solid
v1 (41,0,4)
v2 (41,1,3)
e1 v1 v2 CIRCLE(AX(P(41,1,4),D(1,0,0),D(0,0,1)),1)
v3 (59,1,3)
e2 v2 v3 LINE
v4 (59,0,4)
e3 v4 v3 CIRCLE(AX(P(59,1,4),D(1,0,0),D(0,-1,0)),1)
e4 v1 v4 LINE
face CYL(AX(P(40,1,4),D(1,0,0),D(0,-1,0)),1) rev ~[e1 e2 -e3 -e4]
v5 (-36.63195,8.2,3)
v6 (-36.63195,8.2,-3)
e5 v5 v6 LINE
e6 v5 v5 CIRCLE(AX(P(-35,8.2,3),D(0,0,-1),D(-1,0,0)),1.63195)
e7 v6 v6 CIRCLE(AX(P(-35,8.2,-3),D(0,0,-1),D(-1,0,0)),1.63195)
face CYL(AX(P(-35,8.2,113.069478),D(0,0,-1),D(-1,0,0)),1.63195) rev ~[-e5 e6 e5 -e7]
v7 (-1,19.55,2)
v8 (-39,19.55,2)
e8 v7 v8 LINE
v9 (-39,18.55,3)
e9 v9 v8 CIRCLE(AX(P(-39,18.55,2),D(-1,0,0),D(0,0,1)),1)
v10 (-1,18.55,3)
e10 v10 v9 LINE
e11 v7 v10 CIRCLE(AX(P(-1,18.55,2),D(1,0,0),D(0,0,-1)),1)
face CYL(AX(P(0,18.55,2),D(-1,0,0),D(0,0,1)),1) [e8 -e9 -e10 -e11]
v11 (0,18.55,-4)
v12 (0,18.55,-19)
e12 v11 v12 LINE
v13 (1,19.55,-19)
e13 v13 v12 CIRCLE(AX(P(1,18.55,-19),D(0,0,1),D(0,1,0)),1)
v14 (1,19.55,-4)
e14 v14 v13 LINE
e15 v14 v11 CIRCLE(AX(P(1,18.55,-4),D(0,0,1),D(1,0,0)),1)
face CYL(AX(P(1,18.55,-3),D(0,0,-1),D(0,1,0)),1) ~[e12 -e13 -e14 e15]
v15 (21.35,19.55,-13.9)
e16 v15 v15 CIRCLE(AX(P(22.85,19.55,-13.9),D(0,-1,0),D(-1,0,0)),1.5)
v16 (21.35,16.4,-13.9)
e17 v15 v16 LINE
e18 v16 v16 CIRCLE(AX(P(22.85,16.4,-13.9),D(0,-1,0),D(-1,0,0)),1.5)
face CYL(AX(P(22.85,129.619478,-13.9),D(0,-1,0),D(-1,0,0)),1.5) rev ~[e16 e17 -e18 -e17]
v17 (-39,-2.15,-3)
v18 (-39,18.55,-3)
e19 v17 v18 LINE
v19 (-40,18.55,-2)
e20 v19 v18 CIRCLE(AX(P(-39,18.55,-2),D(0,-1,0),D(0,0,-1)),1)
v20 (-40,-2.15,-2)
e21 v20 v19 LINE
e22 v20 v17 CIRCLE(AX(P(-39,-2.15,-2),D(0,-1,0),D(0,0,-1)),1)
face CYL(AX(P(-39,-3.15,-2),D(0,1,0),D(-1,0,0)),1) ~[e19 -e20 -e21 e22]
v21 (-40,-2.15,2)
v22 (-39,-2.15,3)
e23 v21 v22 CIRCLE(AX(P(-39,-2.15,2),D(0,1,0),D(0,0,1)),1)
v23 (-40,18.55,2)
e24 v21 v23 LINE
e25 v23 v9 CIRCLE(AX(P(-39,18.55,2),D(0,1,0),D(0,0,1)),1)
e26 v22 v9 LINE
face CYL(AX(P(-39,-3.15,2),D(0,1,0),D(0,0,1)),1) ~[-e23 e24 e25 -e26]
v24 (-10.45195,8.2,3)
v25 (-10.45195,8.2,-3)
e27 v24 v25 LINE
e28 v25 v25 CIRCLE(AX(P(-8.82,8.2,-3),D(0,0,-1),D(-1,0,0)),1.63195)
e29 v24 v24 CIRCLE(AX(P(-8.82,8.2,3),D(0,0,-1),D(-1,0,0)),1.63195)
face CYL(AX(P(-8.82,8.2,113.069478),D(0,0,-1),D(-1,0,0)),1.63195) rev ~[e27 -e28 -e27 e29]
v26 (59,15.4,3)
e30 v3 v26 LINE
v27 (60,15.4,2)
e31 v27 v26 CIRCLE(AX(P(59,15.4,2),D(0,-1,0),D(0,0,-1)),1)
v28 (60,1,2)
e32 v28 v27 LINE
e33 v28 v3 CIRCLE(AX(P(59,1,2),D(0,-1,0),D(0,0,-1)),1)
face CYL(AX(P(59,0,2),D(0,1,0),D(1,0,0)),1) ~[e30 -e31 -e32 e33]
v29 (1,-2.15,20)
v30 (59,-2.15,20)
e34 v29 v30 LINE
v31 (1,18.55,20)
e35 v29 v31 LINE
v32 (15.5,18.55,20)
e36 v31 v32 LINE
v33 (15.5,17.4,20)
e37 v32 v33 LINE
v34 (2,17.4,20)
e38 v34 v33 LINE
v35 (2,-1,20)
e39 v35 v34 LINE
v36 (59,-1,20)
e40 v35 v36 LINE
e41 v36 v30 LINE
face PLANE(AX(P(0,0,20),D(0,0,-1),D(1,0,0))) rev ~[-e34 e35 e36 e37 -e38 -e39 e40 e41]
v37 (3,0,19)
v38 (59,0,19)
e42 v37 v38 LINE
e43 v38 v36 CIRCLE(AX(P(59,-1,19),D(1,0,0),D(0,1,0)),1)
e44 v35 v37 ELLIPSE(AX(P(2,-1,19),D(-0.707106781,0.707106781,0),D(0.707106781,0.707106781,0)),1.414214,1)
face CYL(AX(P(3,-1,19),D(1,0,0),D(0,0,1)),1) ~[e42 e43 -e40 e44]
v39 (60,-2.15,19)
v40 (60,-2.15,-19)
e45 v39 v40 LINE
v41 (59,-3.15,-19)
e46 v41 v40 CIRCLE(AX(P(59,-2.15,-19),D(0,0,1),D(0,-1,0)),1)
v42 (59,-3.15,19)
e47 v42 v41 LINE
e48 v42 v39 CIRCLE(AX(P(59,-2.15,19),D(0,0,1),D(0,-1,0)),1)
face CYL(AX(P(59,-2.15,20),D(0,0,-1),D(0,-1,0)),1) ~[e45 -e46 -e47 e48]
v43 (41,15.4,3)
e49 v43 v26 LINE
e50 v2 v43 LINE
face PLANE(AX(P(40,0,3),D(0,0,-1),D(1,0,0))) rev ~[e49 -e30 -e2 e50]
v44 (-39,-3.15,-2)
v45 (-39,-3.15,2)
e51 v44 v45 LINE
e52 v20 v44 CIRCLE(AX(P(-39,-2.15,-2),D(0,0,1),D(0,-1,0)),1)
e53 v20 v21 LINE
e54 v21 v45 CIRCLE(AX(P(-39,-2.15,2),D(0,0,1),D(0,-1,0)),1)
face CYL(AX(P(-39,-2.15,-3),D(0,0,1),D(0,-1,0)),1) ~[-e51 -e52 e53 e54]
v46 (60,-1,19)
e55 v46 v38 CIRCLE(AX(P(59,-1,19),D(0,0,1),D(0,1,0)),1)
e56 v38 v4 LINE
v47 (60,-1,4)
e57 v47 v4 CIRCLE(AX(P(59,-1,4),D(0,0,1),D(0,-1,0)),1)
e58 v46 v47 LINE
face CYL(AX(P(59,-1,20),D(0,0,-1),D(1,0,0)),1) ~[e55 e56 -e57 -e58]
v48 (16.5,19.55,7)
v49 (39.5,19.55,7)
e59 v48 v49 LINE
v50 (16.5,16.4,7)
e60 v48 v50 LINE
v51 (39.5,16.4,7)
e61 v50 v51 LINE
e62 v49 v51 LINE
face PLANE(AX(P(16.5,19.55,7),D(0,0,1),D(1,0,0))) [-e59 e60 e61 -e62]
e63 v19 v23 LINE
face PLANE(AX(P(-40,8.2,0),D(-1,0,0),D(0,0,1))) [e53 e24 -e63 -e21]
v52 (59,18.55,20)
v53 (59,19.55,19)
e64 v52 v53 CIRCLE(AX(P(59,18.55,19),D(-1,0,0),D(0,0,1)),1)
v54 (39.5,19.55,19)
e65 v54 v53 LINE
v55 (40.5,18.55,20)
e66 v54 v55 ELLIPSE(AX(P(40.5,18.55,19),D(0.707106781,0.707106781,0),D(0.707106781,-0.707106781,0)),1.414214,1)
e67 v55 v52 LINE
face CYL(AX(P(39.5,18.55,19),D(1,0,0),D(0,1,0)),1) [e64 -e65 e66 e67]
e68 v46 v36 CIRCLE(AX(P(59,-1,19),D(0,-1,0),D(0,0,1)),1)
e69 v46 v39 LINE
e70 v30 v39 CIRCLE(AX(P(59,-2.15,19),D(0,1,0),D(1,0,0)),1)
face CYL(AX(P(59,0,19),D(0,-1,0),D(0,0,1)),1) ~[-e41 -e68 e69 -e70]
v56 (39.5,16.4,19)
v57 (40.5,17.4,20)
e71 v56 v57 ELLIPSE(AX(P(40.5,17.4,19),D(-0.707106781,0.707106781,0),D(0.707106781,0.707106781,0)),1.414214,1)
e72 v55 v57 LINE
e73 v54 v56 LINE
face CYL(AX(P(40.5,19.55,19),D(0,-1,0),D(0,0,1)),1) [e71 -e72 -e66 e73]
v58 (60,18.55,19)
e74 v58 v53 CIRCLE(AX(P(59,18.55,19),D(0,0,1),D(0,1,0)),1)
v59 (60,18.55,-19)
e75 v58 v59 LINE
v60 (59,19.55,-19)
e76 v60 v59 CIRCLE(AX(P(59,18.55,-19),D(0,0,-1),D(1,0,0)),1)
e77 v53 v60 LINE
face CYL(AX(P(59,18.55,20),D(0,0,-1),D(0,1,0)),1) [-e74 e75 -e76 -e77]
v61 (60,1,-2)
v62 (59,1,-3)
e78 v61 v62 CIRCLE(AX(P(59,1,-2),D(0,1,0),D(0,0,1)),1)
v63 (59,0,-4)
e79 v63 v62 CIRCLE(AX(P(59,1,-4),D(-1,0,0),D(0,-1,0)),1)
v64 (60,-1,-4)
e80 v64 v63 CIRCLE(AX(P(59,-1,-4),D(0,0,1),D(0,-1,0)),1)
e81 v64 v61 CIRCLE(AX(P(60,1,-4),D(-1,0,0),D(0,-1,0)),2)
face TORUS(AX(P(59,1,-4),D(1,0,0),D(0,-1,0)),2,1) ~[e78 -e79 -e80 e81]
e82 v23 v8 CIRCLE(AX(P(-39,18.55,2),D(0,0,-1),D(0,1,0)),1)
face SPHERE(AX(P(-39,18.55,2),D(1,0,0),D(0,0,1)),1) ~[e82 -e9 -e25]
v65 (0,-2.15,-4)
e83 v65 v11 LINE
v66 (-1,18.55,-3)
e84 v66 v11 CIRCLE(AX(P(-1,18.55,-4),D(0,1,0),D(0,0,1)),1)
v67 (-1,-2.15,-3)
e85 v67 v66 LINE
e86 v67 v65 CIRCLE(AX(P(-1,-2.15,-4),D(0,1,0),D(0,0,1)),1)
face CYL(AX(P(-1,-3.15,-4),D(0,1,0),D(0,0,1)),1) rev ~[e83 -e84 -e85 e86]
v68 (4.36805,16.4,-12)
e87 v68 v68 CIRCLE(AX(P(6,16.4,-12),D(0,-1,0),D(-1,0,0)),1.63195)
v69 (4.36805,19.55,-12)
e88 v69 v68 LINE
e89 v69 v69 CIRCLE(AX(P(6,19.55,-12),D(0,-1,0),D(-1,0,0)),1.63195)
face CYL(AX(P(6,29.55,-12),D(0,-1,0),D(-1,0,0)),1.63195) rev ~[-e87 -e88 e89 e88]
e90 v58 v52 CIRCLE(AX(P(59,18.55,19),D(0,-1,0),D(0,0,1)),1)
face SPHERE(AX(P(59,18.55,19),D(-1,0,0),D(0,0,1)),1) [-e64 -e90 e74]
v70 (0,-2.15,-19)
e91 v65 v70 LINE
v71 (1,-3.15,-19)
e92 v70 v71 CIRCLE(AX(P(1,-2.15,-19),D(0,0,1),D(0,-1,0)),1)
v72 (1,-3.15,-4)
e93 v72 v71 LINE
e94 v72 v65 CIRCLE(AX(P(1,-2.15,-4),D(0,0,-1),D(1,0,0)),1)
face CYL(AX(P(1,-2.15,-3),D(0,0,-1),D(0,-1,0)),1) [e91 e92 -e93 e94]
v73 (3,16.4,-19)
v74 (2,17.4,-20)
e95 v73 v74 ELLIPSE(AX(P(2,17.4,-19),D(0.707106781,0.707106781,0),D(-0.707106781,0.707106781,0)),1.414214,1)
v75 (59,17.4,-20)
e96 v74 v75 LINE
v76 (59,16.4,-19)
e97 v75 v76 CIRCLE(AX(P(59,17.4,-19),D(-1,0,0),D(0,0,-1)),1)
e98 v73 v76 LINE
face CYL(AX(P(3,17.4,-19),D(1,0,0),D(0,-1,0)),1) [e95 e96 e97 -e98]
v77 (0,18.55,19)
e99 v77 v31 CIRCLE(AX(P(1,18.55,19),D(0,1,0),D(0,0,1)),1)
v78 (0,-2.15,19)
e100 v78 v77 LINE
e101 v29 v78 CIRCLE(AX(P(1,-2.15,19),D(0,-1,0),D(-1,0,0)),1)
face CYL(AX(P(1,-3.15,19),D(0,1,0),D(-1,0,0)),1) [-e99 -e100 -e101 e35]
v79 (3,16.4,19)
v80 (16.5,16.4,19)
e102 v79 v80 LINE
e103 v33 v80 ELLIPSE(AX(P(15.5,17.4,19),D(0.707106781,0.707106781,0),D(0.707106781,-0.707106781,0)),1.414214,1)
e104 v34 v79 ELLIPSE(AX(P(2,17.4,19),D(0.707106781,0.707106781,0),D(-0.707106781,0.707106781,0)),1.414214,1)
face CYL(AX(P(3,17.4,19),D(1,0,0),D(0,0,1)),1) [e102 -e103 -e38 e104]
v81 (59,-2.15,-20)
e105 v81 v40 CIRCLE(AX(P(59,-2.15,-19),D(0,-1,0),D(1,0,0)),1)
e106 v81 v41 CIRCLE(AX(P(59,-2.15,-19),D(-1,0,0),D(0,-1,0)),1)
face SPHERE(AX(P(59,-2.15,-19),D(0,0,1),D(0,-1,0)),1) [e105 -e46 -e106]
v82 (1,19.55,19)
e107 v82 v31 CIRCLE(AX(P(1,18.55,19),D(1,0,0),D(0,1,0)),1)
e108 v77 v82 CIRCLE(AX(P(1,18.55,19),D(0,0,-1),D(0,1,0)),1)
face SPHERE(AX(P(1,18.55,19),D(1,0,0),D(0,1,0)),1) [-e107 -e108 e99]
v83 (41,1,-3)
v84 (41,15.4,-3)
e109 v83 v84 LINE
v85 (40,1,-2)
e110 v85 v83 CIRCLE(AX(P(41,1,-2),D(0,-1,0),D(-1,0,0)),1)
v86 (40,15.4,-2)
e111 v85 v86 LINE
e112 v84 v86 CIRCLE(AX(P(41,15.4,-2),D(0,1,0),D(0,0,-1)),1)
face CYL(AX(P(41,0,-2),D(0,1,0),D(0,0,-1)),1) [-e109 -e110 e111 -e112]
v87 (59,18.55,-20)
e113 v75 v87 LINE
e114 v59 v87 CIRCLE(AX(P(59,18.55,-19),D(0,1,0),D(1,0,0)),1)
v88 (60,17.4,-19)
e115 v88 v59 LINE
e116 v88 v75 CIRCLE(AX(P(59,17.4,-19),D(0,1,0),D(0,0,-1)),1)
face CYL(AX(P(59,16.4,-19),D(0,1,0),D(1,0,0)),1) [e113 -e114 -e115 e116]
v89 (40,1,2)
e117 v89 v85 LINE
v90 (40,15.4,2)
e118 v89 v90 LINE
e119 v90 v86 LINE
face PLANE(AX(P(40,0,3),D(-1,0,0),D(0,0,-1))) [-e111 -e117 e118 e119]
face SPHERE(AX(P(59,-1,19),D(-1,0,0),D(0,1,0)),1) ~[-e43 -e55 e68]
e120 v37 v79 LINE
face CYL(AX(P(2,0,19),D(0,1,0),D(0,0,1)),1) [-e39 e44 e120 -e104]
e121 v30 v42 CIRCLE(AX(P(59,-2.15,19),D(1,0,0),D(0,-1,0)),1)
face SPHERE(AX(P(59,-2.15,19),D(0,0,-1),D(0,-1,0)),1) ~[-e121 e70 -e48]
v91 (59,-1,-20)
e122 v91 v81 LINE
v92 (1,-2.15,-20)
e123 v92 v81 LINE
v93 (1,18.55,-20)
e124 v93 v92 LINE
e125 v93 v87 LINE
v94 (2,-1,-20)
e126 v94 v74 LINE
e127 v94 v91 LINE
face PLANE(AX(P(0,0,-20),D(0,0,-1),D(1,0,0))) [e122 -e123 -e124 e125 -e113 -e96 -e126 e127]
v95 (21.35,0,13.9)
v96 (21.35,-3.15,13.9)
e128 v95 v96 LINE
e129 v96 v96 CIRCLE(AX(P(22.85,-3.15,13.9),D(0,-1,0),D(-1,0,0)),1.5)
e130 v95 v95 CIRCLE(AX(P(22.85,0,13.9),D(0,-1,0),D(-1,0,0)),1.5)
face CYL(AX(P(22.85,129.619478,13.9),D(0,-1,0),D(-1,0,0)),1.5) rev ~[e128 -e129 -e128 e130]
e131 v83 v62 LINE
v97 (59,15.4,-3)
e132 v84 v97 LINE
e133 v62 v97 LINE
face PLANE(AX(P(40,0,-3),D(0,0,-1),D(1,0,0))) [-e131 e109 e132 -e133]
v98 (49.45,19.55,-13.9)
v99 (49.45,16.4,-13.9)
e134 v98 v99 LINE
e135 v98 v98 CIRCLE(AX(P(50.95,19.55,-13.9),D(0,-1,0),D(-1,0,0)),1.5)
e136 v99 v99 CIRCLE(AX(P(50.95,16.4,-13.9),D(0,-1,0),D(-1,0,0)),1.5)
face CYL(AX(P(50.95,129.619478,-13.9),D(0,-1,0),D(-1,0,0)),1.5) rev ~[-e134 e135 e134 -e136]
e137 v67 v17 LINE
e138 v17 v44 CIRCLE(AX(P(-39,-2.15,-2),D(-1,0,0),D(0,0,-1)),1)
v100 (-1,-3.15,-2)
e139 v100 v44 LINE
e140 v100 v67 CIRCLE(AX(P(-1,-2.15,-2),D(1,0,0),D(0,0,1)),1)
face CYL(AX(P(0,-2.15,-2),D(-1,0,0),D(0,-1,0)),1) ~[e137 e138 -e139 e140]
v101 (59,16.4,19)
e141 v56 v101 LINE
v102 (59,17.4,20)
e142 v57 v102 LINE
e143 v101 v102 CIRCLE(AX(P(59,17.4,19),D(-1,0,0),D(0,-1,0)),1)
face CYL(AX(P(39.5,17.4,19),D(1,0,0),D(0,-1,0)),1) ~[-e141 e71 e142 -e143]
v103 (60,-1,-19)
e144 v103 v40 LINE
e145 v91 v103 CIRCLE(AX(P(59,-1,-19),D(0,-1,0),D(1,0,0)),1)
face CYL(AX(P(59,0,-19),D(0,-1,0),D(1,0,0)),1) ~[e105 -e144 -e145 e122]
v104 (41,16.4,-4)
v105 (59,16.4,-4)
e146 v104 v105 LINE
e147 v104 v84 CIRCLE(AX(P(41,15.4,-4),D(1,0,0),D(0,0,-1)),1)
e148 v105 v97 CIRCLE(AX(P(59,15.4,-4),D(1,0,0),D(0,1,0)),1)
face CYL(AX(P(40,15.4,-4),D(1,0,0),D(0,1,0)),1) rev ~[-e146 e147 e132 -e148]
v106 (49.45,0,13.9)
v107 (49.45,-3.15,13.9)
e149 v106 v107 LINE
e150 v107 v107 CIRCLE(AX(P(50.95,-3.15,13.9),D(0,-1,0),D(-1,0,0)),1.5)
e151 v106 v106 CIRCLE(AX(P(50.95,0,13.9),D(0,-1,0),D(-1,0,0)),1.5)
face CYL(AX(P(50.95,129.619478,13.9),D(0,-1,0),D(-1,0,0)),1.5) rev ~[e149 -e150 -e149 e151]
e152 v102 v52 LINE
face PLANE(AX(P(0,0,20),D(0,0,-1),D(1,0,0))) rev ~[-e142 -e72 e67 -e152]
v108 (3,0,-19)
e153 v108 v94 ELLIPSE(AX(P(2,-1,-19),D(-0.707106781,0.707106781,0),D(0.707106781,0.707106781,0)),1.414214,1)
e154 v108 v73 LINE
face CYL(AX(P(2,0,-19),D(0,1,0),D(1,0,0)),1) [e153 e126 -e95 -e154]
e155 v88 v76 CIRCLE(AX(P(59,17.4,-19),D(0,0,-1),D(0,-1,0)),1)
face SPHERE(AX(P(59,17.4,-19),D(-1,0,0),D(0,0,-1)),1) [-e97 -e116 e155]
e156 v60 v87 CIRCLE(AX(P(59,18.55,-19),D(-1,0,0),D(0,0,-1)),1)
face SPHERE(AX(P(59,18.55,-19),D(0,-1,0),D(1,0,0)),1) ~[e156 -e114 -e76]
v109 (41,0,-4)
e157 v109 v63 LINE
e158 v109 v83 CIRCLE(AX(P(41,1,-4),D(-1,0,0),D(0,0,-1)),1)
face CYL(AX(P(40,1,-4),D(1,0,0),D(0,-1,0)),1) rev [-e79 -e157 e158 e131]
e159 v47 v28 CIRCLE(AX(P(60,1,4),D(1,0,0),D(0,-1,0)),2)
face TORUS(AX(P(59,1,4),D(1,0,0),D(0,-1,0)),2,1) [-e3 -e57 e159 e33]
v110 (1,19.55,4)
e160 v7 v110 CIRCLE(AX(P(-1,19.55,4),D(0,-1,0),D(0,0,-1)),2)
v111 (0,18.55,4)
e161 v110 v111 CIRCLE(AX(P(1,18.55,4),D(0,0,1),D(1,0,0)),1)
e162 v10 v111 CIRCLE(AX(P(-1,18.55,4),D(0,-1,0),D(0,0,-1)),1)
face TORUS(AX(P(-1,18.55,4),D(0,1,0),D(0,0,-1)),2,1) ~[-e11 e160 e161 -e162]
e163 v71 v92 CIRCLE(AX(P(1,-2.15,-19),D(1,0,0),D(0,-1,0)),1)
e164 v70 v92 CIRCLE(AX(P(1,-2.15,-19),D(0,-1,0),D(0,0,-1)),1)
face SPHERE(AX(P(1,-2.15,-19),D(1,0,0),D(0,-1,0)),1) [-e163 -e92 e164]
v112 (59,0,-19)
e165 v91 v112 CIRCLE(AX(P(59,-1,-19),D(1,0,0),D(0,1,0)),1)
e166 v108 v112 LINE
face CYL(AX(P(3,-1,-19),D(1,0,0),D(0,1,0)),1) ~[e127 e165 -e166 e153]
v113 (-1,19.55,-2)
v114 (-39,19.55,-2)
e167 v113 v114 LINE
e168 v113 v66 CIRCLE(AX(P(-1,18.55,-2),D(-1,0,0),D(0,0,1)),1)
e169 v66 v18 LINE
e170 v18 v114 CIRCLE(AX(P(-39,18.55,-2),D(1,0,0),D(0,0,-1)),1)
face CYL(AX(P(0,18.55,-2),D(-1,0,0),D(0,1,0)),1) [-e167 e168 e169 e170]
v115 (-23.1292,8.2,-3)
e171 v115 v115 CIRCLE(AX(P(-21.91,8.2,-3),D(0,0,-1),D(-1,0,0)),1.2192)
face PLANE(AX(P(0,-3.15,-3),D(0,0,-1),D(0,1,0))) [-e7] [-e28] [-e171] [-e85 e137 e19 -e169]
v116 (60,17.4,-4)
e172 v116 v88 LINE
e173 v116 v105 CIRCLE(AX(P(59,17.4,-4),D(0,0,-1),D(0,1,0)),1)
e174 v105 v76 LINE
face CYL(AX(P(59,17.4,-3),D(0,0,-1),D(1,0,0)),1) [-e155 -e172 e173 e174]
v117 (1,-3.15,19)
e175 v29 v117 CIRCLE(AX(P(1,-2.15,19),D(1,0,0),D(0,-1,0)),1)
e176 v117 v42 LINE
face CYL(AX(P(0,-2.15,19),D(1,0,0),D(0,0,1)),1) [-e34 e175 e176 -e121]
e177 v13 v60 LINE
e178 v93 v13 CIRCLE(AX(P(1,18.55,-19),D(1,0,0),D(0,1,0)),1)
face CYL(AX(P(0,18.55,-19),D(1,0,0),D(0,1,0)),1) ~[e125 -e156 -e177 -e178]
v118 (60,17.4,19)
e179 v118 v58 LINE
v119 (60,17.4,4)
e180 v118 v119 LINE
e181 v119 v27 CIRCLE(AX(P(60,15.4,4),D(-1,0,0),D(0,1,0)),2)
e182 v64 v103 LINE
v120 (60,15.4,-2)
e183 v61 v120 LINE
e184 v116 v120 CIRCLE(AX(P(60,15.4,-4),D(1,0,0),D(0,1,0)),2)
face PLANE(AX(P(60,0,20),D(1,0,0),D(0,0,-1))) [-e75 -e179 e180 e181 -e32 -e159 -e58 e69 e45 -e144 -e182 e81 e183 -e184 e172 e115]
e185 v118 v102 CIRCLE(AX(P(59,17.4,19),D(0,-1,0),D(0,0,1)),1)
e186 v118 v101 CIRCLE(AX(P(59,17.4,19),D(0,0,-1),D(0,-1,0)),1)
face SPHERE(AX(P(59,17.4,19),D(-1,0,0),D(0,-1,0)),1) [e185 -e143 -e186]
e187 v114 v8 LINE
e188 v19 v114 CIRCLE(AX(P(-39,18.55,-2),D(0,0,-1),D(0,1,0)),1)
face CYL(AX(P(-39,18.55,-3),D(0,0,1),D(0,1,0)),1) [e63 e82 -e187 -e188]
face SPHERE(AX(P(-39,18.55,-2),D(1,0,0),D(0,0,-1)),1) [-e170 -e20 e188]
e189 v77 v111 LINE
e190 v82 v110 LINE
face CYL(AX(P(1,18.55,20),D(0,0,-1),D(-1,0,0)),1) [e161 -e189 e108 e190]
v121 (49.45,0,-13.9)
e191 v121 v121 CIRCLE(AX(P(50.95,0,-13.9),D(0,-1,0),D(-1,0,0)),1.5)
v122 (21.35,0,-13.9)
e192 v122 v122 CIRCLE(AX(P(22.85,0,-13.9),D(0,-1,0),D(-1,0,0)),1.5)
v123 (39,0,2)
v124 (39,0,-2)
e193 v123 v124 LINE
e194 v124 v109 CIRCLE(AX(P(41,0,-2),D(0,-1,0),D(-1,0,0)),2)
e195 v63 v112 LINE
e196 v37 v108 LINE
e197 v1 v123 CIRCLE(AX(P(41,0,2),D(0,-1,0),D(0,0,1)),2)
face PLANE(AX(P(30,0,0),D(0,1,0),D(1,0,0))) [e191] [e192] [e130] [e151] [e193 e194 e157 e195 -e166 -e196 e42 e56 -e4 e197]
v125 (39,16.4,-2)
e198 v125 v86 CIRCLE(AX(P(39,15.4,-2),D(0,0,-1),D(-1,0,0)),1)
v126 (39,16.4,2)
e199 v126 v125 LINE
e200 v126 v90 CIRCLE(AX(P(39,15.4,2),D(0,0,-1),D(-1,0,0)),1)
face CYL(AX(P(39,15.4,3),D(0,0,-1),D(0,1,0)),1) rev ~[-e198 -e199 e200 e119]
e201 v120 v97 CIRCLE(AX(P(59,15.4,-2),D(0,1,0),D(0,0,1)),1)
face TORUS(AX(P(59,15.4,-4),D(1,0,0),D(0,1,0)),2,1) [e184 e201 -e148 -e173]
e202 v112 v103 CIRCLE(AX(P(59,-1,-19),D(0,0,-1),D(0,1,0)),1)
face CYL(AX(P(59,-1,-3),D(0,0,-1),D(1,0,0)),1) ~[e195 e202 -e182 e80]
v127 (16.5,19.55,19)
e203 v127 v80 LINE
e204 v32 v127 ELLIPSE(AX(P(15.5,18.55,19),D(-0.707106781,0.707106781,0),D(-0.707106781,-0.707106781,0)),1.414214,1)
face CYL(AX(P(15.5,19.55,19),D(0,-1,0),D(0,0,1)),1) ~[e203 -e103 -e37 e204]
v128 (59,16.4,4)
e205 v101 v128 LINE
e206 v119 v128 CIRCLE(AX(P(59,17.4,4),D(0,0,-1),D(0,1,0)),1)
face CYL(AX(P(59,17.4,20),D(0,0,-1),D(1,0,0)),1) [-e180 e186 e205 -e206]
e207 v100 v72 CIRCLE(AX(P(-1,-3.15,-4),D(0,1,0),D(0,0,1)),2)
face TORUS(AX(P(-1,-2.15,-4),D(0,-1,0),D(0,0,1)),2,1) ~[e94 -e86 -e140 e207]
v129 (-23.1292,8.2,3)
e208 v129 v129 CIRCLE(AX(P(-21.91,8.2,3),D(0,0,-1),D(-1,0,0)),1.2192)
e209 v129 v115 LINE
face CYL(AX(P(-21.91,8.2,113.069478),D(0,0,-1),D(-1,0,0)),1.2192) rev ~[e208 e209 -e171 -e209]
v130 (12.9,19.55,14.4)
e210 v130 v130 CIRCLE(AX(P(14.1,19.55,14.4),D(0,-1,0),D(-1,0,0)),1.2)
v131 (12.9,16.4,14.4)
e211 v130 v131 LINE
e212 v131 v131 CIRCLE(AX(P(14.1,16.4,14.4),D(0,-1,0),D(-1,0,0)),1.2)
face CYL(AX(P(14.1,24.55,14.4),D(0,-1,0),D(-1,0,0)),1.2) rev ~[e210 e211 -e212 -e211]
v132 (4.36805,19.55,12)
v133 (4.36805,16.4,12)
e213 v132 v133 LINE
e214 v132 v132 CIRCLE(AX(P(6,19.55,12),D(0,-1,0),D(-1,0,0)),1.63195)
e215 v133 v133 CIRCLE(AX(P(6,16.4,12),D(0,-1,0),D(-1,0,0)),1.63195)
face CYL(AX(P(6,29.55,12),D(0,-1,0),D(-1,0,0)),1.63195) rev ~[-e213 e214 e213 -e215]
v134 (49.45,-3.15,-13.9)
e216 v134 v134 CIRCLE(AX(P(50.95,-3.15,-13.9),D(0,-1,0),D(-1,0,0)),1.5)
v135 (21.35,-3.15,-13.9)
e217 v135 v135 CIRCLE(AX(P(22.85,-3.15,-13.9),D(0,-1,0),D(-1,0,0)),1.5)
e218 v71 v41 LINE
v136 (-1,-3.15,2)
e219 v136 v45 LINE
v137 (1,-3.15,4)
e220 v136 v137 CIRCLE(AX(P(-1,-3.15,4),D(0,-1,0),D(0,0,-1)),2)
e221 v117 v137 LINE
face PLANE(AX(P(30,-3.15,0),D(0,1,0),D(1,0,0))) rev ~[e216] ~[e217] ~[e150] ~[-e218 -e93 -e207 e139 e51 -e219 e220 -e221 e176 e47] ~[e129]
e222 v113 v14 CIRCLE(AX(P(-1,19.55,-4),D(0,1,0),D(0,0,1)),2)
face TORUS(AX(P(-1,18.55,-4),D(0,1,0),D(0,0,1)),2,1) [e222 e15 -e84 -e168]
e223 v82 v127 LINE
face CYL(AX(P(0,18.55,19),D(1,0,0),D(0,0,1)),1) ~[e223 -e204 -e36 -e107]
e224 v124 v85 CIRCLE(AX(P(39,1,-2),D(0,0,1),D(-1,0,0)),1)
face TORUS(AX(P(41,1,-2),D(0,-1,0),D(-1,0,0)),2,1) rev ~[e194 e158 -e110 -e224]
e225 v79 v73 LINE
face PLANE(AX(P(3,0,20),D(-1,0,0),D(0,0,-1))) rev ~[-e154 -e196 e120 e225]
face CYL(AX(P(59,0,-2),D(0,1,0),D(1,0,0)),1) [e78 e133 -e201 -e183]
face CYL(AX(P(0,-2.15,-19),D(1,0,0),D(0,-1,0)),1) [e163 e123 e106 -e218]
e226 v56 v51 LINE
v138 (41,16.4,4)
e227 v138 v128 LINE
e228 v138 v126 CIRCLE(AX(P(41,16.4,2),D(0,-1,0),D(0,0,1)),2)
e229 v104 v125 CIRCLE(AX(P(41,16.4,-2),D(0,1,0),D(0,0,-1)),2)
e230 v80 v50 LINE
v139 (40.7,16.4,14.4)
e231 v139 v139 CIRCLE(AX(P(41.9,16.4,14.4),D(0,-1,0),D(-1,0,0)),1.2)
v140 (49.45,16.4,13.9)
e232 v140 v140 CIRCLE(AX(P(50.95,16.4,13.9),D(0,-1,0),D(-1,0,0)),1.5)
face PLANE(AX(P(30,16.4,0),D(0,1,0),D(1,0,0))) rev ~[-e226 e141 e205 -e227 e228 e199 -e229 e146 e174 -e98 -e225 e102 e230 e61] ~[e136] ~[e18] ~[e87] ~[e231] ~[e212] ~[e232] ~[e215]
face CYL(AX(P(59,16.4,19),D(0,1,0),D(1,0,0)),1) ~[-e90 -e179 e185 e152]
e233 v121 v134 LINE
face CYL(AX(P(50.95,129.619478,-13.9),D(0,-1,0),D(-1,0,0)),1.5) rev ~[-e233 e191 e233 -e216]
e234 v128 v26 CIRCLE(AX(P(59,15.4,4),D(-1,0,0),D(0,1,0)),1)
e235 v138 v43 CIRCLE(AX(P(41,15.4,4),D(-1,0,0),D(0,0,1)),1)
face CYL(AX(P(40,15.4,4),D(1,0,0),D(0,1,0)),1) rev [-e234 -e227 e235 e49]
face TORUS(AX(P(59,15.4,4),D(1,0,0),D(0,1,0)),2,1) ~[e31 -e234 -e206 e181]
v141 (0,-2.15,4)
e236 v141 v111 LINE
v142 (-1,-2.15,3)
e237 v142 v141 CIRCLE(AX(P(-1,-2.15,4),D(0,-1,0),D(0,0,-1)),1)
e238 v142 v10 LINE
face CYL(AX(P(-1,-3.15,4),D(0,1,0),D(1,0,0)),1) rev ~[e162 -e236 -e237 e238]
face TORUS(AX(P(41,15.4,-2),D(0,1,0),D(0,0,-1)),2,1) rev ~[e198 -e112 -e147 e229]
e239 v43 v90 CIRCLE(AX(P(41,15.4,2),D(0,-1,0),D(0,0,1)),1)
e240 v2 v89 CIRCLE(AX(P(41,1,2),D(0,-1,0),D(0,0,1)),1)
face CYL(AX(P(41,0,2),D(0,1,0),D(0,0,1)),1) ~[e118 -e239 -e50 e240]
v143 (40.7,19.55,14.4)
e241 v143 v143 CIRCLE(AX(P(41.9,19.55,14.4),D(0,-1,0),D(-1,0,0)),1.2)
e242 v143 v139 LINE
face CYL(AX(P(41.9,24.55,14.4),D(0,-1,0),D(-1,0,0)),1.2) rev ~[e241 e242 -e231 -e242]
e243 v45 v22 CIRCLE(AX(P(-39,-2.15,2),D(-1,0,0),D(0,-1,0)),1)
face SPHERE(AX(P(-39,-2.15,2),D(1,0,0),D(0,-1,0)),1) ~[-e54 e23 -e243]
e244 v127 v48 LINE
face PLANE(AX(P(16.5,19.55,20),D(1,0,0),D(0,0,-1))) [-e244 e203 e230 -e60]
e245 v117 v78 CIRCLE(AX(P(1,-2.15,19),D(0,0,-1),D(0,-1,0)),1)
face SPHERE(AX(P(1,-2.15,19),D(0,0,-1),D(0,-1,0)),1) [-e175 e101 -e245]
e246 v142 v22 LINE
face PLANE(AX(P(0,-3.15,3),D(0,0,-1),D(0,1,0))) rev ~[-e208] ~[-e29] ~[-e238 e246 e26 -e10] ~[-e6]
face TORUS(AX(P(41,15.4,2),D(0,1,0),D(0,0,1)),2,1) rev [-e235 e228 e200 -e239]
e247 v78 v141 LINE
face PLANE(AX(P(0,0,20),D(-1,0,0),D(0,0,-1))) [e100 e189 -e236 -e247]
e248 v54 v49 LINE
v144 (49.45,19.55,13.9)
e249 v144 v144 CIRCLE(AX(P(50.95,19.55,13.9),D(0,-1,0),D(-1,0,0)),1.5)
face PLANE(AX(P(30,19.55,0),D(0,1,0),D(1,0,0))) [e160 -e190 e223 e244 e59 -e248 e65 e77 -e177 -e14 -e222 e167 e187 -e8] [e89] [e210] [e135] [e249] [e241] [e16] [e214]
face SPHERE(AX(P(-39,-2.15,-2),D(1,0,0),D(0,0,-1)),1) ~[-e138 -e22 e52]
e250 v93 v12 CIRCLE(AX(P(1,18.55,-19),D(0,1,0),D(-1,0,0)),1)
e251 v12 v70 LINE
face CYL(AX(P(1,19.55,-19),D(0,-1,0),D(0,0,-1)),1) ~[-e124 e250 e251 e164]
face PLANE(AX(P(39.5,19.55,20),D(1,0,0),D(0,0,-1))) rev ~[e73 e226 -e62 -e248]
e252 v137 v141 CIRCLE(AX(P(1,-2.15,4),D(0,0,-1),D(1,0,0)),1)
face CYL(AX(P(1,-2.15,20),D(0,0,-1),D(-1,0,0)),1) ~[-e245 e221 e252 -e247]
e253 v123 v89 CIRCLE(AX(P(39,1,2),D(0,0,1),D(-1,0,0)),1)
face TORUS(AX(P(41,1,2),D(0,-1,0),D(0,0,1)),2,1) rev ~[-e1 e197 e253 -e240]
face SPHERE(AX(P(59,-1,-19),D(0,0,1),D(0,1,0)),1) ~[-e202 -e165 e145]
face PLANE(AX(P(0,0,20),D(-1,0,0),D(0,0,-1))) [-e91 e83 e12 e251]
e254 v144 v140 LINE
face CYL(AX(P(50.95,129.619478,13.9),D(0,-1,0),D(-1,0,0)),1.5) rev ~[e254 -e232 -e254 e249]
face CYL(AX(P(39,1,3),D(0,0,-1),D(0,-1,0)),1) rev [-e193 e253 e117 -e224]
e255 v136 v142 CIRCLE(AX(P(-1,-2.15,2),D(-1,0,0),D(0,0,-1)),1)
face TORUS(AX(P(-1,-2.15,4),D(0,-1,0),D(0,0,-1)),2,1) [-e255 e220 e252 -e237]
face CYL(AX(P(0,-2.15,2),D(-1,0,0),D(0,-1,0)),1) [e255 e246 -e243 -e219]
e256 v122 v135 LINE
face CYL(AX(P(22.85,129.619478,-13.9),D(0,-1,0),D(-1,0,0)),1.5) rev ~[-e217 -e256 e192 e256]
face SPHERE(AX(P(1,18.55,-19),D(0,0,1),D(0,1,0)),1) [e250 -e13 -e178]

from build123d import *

# Parameters (mm, degrees)
SKETCH1_W                 = 60
SKETCH1_H                 = 40
BOSS_EXTRUDE1_DEPTH       = 3.15
BOSS_EXTRUDE2_START       = 16.4
SKETCH1_2_W               = 60
SKETCH1_2_H               = 40
BOSS_EXTRUDE2_DEPTH       = 3.15
SKETCH2_W                 = 3
SKETCH2_H                 = 40
SKETCH2_W_2               = 20
SKETCH2_H_2               = 6
BOSS_EXTRUDE3_DEPTH       = 16.4
SKETCH3_W                 = 6
SKETCH3_H                 = 22.7
BOSS_EXTRUDE4_DEPTH       = 40
M2_CLEARANCE_HOLE1_D      = 2.4
M2_CLEARANCE_HOLE1_DEPTH  = 5
M2_CLEARANCE_HOLE1_TIP    = 0.721032743
F_3_0MM_DOWEL_HOLE1_D     = 3
SKETCH5_W                 = 23
SKETCH5_H                 = 13
CUT_EXTRUDE1_DEPTH        = 7
FILLET1_R                 = 1
F_4_CLEARANCE_HOLE1_D     = 3.2639
F_2_CLEARANCE_HOLE1_D     = 2.4384
F_4_CLEARANCE_HOLE2_D     = 3.2639
F_4_CLEARANCE_HOLE2_DEPTH = 10
F_4_CLEARANCE_HOLE2_TIP   = 0.980574487


with BuildPart() as part:
    # Sketch1 → Boss-Extrude1 (new body)
    with BuildSketch(Plane(origin=(0, 0, 0), x_dir=(1, 0, 0), z_dir=(0, 1, 0))):
        with Locations((30, 0)):
            Rectangle(SKETCH1_W, SKETCH1_H)
    extrude(amount=-BOSS_EXTRUDE1_DEPTH)



with BuildPart() as body_2:
    # Sketch1<2> → Boss-Extrude2 (new body)
    with BuildSketch(Plane(origin=(0, 0, 0), x_dir=(1, 0, 0), z_dir=(0, 1, 0)).offset(BOSS_EXTRUDE2_START)):
        with Locations((30, 0)):
            Rectangle(SKETCH1_2_W, SKETCH1_2_H)
    extrude(amount=BOSS_EXTRUDE2_DEPTH)


with BuildPart() as part_1:
    add(part.part)

    add(body_2.part)  # Boss-Extrude3 merges body 2
    # Sketch2 → Boss-Extrude3 (add)
    with BuildSketch(Plane(origin=(0, 0, 0), x_dir=(1, 0, 0), z_dir=(0, 1, 0))):
        with Locations((1.5, 0)):
            Rectangle(SKETCH2_W, SKETCH2_H)
        with Locations((50, 0)):
            Rectangle(SKETCH2_W_2, SKETCH2_H_2)
    extrude(amount=BOSS_EXTRUDE3_DEPTH)

    # Sketch3 → Boss-Extrude4 (add)
    with BuildSketch(Plane.ZY):
        with Locations((0, 8.2)):
            Rectangle(SKETCH3_W, SKETCH3_H)
    extrude(amount=BOSS_EXTRUDE4_DEPTH)

    # M2 Clearance Hole1
    with Locations(Plane(origin=(0, 19.55, 0), x_dir=(1, 0, 0), z_dir=(0, 1, 0))):
        with Locations((14.1, -14.4), (41.9, -14.4)):
            Hole(M2_CLEARANCE_HOLE1_D / 2, depth=M2_CLEARANCE_HOLE1_DEPTH)
            with Locations((0, 0, -(M2_CLEARANCE_HOLE1_DEPTH + M2_CLEARANCE_HOLE1_TIP / 2))):  # 118° drill point
                Cone(0, M2_CLEARANCE_HOLE1_D / 2, M2_CLEARANCE_HOLE1_TIP, mode=Mode.SUBTRACT)

    # Ø3.0mm Dowel Hole1 (through all)
    with Locations(Plane(origin=(0, 19.55, 0), x_dir=(1, 0, 0), z_dir=(0, 1, 0))):
        with Locations((50.95, -13.9), (22.85, 13.9), (50.95, 13.9), (22.85, -13.9)):
            Hole(F_3_0MM_DOWEL_HOLE1_D / 2)

    # Sketch5 → Cut-Extrude1 (cut)
    with BuildSketch(Plane(origin=(0, 19.55, 0), x_dir=(1, 0, 0), z_dir=(0, 1, 0))):
        with Locations((28, -13.5)):
            Rectangle(SKETCH5_W, SKETCH5_H)
    extrude(amount=-CUT_EXTRUDE1_DEPTH, mode=Mode.SUBTRACT)

    # Fillet1
    fillet1_edges = [part_1.edges().sort_by_distance(p)[0] for p in [
        (60, -3.15, 0),
        (49.75, 19.55, 20),
        (49.75, 16.4, 20),
        (16.5, 17.975, 20),
        (39.5, 17.975, 20),
        (30, -3.15, -20),
        (31.5, 0, 20),
        (3, 8.2, 20),
        (3, 8.2, -20),
        (9.75, 16.4, 20),
        (60, 16.4, 11.5),
        (60, 17.975, 20),
        (31.5, 16.4, -20),
        (60, 17.975, -20),
        (0, 19.55, -11.5),
        (8.25, 19.55, 20),
        (60, 19.55, 0),
        (30, 19.55, -20),
        (60, 16.4, -11.5),
        (60, 0, -11.5),
        (60, 8.2, 3),
        (60, 8.2, -3),
        (50, 0, -3),
        (40, 8.2, -3),
        (40, 0, 0),
        (40, 8.2, 3),
        (50, 0, 3),
        (50, 16.4, 3),
        (50, 16.4, -3),
        (40, 16.4, 0),
        (0, -3.15, -11.5),
        (31.5, 0, -20),
        (0, 19.55, 11.5),
        (0, -3.15, 11.5),
        (60, 0, 11.5),
        (0, 8.2, -3),
        (-20, 19.55, -3),
        (-20, -3.15, -3),
        (0, 8.2, 3),
        (-20, -3.15, 3),
        (-20, 19.55, 3),
        (-40, 8.2, -3),
        (-40, -3.15, 0),
        (-40, 8.2, 3),
        (-40, 19.55, 0),
        (30, -3.15, 20),
        (0, 8.2, -20),
        (60, -1.575, -20),
        (60, -1.575, 20),
        (0, 8.2, 20),
    ]]
    fillet(fillet1_edges, radius=FILLET1_R)

    # #4 Clearance Hole1 (through all)
    with Locations(Plane.XY.offset(3)):
        with Locations((-35, 8.2), (-8.82, 8.2)):
            Hole(F_4_CLEARANCE_HOLE1_D / 2)

    # #2 Clearance Hole1 (through all)
    with Locations(Plane.XY.offset(3)):
        with Locations((-21.91, 8.2)):
            Hole(F_2_CLEARANCE_HOLE1_D / 2)

    # #4 Clearance Hole2
    with Locations(Plane(origin=(0, 19.55, 0), x_dir=(1, 0, 0), z_dir=(0, 1, 0))):
        with Locations((6, 12), (6, -12)):
            Hole(F_4_CLEARANCE_HOLE2_D / 2, depth=F_4_CLEARANCE_HOLE2_DEPTH)
            with Locations((0, 0, -(F_4_CLEARANCE_HOLE2_DEPTH + F_4_CLEARANCE_HOLE2_TIP / 2))):  # 118° drill point
                Cone(0, F_4_CLEARANCE_HOLE2_D / 2, F_4_CLEARANCE_HOLE2_TIP, mode=Mode.SUBTRACT)


solid = part_1.part
